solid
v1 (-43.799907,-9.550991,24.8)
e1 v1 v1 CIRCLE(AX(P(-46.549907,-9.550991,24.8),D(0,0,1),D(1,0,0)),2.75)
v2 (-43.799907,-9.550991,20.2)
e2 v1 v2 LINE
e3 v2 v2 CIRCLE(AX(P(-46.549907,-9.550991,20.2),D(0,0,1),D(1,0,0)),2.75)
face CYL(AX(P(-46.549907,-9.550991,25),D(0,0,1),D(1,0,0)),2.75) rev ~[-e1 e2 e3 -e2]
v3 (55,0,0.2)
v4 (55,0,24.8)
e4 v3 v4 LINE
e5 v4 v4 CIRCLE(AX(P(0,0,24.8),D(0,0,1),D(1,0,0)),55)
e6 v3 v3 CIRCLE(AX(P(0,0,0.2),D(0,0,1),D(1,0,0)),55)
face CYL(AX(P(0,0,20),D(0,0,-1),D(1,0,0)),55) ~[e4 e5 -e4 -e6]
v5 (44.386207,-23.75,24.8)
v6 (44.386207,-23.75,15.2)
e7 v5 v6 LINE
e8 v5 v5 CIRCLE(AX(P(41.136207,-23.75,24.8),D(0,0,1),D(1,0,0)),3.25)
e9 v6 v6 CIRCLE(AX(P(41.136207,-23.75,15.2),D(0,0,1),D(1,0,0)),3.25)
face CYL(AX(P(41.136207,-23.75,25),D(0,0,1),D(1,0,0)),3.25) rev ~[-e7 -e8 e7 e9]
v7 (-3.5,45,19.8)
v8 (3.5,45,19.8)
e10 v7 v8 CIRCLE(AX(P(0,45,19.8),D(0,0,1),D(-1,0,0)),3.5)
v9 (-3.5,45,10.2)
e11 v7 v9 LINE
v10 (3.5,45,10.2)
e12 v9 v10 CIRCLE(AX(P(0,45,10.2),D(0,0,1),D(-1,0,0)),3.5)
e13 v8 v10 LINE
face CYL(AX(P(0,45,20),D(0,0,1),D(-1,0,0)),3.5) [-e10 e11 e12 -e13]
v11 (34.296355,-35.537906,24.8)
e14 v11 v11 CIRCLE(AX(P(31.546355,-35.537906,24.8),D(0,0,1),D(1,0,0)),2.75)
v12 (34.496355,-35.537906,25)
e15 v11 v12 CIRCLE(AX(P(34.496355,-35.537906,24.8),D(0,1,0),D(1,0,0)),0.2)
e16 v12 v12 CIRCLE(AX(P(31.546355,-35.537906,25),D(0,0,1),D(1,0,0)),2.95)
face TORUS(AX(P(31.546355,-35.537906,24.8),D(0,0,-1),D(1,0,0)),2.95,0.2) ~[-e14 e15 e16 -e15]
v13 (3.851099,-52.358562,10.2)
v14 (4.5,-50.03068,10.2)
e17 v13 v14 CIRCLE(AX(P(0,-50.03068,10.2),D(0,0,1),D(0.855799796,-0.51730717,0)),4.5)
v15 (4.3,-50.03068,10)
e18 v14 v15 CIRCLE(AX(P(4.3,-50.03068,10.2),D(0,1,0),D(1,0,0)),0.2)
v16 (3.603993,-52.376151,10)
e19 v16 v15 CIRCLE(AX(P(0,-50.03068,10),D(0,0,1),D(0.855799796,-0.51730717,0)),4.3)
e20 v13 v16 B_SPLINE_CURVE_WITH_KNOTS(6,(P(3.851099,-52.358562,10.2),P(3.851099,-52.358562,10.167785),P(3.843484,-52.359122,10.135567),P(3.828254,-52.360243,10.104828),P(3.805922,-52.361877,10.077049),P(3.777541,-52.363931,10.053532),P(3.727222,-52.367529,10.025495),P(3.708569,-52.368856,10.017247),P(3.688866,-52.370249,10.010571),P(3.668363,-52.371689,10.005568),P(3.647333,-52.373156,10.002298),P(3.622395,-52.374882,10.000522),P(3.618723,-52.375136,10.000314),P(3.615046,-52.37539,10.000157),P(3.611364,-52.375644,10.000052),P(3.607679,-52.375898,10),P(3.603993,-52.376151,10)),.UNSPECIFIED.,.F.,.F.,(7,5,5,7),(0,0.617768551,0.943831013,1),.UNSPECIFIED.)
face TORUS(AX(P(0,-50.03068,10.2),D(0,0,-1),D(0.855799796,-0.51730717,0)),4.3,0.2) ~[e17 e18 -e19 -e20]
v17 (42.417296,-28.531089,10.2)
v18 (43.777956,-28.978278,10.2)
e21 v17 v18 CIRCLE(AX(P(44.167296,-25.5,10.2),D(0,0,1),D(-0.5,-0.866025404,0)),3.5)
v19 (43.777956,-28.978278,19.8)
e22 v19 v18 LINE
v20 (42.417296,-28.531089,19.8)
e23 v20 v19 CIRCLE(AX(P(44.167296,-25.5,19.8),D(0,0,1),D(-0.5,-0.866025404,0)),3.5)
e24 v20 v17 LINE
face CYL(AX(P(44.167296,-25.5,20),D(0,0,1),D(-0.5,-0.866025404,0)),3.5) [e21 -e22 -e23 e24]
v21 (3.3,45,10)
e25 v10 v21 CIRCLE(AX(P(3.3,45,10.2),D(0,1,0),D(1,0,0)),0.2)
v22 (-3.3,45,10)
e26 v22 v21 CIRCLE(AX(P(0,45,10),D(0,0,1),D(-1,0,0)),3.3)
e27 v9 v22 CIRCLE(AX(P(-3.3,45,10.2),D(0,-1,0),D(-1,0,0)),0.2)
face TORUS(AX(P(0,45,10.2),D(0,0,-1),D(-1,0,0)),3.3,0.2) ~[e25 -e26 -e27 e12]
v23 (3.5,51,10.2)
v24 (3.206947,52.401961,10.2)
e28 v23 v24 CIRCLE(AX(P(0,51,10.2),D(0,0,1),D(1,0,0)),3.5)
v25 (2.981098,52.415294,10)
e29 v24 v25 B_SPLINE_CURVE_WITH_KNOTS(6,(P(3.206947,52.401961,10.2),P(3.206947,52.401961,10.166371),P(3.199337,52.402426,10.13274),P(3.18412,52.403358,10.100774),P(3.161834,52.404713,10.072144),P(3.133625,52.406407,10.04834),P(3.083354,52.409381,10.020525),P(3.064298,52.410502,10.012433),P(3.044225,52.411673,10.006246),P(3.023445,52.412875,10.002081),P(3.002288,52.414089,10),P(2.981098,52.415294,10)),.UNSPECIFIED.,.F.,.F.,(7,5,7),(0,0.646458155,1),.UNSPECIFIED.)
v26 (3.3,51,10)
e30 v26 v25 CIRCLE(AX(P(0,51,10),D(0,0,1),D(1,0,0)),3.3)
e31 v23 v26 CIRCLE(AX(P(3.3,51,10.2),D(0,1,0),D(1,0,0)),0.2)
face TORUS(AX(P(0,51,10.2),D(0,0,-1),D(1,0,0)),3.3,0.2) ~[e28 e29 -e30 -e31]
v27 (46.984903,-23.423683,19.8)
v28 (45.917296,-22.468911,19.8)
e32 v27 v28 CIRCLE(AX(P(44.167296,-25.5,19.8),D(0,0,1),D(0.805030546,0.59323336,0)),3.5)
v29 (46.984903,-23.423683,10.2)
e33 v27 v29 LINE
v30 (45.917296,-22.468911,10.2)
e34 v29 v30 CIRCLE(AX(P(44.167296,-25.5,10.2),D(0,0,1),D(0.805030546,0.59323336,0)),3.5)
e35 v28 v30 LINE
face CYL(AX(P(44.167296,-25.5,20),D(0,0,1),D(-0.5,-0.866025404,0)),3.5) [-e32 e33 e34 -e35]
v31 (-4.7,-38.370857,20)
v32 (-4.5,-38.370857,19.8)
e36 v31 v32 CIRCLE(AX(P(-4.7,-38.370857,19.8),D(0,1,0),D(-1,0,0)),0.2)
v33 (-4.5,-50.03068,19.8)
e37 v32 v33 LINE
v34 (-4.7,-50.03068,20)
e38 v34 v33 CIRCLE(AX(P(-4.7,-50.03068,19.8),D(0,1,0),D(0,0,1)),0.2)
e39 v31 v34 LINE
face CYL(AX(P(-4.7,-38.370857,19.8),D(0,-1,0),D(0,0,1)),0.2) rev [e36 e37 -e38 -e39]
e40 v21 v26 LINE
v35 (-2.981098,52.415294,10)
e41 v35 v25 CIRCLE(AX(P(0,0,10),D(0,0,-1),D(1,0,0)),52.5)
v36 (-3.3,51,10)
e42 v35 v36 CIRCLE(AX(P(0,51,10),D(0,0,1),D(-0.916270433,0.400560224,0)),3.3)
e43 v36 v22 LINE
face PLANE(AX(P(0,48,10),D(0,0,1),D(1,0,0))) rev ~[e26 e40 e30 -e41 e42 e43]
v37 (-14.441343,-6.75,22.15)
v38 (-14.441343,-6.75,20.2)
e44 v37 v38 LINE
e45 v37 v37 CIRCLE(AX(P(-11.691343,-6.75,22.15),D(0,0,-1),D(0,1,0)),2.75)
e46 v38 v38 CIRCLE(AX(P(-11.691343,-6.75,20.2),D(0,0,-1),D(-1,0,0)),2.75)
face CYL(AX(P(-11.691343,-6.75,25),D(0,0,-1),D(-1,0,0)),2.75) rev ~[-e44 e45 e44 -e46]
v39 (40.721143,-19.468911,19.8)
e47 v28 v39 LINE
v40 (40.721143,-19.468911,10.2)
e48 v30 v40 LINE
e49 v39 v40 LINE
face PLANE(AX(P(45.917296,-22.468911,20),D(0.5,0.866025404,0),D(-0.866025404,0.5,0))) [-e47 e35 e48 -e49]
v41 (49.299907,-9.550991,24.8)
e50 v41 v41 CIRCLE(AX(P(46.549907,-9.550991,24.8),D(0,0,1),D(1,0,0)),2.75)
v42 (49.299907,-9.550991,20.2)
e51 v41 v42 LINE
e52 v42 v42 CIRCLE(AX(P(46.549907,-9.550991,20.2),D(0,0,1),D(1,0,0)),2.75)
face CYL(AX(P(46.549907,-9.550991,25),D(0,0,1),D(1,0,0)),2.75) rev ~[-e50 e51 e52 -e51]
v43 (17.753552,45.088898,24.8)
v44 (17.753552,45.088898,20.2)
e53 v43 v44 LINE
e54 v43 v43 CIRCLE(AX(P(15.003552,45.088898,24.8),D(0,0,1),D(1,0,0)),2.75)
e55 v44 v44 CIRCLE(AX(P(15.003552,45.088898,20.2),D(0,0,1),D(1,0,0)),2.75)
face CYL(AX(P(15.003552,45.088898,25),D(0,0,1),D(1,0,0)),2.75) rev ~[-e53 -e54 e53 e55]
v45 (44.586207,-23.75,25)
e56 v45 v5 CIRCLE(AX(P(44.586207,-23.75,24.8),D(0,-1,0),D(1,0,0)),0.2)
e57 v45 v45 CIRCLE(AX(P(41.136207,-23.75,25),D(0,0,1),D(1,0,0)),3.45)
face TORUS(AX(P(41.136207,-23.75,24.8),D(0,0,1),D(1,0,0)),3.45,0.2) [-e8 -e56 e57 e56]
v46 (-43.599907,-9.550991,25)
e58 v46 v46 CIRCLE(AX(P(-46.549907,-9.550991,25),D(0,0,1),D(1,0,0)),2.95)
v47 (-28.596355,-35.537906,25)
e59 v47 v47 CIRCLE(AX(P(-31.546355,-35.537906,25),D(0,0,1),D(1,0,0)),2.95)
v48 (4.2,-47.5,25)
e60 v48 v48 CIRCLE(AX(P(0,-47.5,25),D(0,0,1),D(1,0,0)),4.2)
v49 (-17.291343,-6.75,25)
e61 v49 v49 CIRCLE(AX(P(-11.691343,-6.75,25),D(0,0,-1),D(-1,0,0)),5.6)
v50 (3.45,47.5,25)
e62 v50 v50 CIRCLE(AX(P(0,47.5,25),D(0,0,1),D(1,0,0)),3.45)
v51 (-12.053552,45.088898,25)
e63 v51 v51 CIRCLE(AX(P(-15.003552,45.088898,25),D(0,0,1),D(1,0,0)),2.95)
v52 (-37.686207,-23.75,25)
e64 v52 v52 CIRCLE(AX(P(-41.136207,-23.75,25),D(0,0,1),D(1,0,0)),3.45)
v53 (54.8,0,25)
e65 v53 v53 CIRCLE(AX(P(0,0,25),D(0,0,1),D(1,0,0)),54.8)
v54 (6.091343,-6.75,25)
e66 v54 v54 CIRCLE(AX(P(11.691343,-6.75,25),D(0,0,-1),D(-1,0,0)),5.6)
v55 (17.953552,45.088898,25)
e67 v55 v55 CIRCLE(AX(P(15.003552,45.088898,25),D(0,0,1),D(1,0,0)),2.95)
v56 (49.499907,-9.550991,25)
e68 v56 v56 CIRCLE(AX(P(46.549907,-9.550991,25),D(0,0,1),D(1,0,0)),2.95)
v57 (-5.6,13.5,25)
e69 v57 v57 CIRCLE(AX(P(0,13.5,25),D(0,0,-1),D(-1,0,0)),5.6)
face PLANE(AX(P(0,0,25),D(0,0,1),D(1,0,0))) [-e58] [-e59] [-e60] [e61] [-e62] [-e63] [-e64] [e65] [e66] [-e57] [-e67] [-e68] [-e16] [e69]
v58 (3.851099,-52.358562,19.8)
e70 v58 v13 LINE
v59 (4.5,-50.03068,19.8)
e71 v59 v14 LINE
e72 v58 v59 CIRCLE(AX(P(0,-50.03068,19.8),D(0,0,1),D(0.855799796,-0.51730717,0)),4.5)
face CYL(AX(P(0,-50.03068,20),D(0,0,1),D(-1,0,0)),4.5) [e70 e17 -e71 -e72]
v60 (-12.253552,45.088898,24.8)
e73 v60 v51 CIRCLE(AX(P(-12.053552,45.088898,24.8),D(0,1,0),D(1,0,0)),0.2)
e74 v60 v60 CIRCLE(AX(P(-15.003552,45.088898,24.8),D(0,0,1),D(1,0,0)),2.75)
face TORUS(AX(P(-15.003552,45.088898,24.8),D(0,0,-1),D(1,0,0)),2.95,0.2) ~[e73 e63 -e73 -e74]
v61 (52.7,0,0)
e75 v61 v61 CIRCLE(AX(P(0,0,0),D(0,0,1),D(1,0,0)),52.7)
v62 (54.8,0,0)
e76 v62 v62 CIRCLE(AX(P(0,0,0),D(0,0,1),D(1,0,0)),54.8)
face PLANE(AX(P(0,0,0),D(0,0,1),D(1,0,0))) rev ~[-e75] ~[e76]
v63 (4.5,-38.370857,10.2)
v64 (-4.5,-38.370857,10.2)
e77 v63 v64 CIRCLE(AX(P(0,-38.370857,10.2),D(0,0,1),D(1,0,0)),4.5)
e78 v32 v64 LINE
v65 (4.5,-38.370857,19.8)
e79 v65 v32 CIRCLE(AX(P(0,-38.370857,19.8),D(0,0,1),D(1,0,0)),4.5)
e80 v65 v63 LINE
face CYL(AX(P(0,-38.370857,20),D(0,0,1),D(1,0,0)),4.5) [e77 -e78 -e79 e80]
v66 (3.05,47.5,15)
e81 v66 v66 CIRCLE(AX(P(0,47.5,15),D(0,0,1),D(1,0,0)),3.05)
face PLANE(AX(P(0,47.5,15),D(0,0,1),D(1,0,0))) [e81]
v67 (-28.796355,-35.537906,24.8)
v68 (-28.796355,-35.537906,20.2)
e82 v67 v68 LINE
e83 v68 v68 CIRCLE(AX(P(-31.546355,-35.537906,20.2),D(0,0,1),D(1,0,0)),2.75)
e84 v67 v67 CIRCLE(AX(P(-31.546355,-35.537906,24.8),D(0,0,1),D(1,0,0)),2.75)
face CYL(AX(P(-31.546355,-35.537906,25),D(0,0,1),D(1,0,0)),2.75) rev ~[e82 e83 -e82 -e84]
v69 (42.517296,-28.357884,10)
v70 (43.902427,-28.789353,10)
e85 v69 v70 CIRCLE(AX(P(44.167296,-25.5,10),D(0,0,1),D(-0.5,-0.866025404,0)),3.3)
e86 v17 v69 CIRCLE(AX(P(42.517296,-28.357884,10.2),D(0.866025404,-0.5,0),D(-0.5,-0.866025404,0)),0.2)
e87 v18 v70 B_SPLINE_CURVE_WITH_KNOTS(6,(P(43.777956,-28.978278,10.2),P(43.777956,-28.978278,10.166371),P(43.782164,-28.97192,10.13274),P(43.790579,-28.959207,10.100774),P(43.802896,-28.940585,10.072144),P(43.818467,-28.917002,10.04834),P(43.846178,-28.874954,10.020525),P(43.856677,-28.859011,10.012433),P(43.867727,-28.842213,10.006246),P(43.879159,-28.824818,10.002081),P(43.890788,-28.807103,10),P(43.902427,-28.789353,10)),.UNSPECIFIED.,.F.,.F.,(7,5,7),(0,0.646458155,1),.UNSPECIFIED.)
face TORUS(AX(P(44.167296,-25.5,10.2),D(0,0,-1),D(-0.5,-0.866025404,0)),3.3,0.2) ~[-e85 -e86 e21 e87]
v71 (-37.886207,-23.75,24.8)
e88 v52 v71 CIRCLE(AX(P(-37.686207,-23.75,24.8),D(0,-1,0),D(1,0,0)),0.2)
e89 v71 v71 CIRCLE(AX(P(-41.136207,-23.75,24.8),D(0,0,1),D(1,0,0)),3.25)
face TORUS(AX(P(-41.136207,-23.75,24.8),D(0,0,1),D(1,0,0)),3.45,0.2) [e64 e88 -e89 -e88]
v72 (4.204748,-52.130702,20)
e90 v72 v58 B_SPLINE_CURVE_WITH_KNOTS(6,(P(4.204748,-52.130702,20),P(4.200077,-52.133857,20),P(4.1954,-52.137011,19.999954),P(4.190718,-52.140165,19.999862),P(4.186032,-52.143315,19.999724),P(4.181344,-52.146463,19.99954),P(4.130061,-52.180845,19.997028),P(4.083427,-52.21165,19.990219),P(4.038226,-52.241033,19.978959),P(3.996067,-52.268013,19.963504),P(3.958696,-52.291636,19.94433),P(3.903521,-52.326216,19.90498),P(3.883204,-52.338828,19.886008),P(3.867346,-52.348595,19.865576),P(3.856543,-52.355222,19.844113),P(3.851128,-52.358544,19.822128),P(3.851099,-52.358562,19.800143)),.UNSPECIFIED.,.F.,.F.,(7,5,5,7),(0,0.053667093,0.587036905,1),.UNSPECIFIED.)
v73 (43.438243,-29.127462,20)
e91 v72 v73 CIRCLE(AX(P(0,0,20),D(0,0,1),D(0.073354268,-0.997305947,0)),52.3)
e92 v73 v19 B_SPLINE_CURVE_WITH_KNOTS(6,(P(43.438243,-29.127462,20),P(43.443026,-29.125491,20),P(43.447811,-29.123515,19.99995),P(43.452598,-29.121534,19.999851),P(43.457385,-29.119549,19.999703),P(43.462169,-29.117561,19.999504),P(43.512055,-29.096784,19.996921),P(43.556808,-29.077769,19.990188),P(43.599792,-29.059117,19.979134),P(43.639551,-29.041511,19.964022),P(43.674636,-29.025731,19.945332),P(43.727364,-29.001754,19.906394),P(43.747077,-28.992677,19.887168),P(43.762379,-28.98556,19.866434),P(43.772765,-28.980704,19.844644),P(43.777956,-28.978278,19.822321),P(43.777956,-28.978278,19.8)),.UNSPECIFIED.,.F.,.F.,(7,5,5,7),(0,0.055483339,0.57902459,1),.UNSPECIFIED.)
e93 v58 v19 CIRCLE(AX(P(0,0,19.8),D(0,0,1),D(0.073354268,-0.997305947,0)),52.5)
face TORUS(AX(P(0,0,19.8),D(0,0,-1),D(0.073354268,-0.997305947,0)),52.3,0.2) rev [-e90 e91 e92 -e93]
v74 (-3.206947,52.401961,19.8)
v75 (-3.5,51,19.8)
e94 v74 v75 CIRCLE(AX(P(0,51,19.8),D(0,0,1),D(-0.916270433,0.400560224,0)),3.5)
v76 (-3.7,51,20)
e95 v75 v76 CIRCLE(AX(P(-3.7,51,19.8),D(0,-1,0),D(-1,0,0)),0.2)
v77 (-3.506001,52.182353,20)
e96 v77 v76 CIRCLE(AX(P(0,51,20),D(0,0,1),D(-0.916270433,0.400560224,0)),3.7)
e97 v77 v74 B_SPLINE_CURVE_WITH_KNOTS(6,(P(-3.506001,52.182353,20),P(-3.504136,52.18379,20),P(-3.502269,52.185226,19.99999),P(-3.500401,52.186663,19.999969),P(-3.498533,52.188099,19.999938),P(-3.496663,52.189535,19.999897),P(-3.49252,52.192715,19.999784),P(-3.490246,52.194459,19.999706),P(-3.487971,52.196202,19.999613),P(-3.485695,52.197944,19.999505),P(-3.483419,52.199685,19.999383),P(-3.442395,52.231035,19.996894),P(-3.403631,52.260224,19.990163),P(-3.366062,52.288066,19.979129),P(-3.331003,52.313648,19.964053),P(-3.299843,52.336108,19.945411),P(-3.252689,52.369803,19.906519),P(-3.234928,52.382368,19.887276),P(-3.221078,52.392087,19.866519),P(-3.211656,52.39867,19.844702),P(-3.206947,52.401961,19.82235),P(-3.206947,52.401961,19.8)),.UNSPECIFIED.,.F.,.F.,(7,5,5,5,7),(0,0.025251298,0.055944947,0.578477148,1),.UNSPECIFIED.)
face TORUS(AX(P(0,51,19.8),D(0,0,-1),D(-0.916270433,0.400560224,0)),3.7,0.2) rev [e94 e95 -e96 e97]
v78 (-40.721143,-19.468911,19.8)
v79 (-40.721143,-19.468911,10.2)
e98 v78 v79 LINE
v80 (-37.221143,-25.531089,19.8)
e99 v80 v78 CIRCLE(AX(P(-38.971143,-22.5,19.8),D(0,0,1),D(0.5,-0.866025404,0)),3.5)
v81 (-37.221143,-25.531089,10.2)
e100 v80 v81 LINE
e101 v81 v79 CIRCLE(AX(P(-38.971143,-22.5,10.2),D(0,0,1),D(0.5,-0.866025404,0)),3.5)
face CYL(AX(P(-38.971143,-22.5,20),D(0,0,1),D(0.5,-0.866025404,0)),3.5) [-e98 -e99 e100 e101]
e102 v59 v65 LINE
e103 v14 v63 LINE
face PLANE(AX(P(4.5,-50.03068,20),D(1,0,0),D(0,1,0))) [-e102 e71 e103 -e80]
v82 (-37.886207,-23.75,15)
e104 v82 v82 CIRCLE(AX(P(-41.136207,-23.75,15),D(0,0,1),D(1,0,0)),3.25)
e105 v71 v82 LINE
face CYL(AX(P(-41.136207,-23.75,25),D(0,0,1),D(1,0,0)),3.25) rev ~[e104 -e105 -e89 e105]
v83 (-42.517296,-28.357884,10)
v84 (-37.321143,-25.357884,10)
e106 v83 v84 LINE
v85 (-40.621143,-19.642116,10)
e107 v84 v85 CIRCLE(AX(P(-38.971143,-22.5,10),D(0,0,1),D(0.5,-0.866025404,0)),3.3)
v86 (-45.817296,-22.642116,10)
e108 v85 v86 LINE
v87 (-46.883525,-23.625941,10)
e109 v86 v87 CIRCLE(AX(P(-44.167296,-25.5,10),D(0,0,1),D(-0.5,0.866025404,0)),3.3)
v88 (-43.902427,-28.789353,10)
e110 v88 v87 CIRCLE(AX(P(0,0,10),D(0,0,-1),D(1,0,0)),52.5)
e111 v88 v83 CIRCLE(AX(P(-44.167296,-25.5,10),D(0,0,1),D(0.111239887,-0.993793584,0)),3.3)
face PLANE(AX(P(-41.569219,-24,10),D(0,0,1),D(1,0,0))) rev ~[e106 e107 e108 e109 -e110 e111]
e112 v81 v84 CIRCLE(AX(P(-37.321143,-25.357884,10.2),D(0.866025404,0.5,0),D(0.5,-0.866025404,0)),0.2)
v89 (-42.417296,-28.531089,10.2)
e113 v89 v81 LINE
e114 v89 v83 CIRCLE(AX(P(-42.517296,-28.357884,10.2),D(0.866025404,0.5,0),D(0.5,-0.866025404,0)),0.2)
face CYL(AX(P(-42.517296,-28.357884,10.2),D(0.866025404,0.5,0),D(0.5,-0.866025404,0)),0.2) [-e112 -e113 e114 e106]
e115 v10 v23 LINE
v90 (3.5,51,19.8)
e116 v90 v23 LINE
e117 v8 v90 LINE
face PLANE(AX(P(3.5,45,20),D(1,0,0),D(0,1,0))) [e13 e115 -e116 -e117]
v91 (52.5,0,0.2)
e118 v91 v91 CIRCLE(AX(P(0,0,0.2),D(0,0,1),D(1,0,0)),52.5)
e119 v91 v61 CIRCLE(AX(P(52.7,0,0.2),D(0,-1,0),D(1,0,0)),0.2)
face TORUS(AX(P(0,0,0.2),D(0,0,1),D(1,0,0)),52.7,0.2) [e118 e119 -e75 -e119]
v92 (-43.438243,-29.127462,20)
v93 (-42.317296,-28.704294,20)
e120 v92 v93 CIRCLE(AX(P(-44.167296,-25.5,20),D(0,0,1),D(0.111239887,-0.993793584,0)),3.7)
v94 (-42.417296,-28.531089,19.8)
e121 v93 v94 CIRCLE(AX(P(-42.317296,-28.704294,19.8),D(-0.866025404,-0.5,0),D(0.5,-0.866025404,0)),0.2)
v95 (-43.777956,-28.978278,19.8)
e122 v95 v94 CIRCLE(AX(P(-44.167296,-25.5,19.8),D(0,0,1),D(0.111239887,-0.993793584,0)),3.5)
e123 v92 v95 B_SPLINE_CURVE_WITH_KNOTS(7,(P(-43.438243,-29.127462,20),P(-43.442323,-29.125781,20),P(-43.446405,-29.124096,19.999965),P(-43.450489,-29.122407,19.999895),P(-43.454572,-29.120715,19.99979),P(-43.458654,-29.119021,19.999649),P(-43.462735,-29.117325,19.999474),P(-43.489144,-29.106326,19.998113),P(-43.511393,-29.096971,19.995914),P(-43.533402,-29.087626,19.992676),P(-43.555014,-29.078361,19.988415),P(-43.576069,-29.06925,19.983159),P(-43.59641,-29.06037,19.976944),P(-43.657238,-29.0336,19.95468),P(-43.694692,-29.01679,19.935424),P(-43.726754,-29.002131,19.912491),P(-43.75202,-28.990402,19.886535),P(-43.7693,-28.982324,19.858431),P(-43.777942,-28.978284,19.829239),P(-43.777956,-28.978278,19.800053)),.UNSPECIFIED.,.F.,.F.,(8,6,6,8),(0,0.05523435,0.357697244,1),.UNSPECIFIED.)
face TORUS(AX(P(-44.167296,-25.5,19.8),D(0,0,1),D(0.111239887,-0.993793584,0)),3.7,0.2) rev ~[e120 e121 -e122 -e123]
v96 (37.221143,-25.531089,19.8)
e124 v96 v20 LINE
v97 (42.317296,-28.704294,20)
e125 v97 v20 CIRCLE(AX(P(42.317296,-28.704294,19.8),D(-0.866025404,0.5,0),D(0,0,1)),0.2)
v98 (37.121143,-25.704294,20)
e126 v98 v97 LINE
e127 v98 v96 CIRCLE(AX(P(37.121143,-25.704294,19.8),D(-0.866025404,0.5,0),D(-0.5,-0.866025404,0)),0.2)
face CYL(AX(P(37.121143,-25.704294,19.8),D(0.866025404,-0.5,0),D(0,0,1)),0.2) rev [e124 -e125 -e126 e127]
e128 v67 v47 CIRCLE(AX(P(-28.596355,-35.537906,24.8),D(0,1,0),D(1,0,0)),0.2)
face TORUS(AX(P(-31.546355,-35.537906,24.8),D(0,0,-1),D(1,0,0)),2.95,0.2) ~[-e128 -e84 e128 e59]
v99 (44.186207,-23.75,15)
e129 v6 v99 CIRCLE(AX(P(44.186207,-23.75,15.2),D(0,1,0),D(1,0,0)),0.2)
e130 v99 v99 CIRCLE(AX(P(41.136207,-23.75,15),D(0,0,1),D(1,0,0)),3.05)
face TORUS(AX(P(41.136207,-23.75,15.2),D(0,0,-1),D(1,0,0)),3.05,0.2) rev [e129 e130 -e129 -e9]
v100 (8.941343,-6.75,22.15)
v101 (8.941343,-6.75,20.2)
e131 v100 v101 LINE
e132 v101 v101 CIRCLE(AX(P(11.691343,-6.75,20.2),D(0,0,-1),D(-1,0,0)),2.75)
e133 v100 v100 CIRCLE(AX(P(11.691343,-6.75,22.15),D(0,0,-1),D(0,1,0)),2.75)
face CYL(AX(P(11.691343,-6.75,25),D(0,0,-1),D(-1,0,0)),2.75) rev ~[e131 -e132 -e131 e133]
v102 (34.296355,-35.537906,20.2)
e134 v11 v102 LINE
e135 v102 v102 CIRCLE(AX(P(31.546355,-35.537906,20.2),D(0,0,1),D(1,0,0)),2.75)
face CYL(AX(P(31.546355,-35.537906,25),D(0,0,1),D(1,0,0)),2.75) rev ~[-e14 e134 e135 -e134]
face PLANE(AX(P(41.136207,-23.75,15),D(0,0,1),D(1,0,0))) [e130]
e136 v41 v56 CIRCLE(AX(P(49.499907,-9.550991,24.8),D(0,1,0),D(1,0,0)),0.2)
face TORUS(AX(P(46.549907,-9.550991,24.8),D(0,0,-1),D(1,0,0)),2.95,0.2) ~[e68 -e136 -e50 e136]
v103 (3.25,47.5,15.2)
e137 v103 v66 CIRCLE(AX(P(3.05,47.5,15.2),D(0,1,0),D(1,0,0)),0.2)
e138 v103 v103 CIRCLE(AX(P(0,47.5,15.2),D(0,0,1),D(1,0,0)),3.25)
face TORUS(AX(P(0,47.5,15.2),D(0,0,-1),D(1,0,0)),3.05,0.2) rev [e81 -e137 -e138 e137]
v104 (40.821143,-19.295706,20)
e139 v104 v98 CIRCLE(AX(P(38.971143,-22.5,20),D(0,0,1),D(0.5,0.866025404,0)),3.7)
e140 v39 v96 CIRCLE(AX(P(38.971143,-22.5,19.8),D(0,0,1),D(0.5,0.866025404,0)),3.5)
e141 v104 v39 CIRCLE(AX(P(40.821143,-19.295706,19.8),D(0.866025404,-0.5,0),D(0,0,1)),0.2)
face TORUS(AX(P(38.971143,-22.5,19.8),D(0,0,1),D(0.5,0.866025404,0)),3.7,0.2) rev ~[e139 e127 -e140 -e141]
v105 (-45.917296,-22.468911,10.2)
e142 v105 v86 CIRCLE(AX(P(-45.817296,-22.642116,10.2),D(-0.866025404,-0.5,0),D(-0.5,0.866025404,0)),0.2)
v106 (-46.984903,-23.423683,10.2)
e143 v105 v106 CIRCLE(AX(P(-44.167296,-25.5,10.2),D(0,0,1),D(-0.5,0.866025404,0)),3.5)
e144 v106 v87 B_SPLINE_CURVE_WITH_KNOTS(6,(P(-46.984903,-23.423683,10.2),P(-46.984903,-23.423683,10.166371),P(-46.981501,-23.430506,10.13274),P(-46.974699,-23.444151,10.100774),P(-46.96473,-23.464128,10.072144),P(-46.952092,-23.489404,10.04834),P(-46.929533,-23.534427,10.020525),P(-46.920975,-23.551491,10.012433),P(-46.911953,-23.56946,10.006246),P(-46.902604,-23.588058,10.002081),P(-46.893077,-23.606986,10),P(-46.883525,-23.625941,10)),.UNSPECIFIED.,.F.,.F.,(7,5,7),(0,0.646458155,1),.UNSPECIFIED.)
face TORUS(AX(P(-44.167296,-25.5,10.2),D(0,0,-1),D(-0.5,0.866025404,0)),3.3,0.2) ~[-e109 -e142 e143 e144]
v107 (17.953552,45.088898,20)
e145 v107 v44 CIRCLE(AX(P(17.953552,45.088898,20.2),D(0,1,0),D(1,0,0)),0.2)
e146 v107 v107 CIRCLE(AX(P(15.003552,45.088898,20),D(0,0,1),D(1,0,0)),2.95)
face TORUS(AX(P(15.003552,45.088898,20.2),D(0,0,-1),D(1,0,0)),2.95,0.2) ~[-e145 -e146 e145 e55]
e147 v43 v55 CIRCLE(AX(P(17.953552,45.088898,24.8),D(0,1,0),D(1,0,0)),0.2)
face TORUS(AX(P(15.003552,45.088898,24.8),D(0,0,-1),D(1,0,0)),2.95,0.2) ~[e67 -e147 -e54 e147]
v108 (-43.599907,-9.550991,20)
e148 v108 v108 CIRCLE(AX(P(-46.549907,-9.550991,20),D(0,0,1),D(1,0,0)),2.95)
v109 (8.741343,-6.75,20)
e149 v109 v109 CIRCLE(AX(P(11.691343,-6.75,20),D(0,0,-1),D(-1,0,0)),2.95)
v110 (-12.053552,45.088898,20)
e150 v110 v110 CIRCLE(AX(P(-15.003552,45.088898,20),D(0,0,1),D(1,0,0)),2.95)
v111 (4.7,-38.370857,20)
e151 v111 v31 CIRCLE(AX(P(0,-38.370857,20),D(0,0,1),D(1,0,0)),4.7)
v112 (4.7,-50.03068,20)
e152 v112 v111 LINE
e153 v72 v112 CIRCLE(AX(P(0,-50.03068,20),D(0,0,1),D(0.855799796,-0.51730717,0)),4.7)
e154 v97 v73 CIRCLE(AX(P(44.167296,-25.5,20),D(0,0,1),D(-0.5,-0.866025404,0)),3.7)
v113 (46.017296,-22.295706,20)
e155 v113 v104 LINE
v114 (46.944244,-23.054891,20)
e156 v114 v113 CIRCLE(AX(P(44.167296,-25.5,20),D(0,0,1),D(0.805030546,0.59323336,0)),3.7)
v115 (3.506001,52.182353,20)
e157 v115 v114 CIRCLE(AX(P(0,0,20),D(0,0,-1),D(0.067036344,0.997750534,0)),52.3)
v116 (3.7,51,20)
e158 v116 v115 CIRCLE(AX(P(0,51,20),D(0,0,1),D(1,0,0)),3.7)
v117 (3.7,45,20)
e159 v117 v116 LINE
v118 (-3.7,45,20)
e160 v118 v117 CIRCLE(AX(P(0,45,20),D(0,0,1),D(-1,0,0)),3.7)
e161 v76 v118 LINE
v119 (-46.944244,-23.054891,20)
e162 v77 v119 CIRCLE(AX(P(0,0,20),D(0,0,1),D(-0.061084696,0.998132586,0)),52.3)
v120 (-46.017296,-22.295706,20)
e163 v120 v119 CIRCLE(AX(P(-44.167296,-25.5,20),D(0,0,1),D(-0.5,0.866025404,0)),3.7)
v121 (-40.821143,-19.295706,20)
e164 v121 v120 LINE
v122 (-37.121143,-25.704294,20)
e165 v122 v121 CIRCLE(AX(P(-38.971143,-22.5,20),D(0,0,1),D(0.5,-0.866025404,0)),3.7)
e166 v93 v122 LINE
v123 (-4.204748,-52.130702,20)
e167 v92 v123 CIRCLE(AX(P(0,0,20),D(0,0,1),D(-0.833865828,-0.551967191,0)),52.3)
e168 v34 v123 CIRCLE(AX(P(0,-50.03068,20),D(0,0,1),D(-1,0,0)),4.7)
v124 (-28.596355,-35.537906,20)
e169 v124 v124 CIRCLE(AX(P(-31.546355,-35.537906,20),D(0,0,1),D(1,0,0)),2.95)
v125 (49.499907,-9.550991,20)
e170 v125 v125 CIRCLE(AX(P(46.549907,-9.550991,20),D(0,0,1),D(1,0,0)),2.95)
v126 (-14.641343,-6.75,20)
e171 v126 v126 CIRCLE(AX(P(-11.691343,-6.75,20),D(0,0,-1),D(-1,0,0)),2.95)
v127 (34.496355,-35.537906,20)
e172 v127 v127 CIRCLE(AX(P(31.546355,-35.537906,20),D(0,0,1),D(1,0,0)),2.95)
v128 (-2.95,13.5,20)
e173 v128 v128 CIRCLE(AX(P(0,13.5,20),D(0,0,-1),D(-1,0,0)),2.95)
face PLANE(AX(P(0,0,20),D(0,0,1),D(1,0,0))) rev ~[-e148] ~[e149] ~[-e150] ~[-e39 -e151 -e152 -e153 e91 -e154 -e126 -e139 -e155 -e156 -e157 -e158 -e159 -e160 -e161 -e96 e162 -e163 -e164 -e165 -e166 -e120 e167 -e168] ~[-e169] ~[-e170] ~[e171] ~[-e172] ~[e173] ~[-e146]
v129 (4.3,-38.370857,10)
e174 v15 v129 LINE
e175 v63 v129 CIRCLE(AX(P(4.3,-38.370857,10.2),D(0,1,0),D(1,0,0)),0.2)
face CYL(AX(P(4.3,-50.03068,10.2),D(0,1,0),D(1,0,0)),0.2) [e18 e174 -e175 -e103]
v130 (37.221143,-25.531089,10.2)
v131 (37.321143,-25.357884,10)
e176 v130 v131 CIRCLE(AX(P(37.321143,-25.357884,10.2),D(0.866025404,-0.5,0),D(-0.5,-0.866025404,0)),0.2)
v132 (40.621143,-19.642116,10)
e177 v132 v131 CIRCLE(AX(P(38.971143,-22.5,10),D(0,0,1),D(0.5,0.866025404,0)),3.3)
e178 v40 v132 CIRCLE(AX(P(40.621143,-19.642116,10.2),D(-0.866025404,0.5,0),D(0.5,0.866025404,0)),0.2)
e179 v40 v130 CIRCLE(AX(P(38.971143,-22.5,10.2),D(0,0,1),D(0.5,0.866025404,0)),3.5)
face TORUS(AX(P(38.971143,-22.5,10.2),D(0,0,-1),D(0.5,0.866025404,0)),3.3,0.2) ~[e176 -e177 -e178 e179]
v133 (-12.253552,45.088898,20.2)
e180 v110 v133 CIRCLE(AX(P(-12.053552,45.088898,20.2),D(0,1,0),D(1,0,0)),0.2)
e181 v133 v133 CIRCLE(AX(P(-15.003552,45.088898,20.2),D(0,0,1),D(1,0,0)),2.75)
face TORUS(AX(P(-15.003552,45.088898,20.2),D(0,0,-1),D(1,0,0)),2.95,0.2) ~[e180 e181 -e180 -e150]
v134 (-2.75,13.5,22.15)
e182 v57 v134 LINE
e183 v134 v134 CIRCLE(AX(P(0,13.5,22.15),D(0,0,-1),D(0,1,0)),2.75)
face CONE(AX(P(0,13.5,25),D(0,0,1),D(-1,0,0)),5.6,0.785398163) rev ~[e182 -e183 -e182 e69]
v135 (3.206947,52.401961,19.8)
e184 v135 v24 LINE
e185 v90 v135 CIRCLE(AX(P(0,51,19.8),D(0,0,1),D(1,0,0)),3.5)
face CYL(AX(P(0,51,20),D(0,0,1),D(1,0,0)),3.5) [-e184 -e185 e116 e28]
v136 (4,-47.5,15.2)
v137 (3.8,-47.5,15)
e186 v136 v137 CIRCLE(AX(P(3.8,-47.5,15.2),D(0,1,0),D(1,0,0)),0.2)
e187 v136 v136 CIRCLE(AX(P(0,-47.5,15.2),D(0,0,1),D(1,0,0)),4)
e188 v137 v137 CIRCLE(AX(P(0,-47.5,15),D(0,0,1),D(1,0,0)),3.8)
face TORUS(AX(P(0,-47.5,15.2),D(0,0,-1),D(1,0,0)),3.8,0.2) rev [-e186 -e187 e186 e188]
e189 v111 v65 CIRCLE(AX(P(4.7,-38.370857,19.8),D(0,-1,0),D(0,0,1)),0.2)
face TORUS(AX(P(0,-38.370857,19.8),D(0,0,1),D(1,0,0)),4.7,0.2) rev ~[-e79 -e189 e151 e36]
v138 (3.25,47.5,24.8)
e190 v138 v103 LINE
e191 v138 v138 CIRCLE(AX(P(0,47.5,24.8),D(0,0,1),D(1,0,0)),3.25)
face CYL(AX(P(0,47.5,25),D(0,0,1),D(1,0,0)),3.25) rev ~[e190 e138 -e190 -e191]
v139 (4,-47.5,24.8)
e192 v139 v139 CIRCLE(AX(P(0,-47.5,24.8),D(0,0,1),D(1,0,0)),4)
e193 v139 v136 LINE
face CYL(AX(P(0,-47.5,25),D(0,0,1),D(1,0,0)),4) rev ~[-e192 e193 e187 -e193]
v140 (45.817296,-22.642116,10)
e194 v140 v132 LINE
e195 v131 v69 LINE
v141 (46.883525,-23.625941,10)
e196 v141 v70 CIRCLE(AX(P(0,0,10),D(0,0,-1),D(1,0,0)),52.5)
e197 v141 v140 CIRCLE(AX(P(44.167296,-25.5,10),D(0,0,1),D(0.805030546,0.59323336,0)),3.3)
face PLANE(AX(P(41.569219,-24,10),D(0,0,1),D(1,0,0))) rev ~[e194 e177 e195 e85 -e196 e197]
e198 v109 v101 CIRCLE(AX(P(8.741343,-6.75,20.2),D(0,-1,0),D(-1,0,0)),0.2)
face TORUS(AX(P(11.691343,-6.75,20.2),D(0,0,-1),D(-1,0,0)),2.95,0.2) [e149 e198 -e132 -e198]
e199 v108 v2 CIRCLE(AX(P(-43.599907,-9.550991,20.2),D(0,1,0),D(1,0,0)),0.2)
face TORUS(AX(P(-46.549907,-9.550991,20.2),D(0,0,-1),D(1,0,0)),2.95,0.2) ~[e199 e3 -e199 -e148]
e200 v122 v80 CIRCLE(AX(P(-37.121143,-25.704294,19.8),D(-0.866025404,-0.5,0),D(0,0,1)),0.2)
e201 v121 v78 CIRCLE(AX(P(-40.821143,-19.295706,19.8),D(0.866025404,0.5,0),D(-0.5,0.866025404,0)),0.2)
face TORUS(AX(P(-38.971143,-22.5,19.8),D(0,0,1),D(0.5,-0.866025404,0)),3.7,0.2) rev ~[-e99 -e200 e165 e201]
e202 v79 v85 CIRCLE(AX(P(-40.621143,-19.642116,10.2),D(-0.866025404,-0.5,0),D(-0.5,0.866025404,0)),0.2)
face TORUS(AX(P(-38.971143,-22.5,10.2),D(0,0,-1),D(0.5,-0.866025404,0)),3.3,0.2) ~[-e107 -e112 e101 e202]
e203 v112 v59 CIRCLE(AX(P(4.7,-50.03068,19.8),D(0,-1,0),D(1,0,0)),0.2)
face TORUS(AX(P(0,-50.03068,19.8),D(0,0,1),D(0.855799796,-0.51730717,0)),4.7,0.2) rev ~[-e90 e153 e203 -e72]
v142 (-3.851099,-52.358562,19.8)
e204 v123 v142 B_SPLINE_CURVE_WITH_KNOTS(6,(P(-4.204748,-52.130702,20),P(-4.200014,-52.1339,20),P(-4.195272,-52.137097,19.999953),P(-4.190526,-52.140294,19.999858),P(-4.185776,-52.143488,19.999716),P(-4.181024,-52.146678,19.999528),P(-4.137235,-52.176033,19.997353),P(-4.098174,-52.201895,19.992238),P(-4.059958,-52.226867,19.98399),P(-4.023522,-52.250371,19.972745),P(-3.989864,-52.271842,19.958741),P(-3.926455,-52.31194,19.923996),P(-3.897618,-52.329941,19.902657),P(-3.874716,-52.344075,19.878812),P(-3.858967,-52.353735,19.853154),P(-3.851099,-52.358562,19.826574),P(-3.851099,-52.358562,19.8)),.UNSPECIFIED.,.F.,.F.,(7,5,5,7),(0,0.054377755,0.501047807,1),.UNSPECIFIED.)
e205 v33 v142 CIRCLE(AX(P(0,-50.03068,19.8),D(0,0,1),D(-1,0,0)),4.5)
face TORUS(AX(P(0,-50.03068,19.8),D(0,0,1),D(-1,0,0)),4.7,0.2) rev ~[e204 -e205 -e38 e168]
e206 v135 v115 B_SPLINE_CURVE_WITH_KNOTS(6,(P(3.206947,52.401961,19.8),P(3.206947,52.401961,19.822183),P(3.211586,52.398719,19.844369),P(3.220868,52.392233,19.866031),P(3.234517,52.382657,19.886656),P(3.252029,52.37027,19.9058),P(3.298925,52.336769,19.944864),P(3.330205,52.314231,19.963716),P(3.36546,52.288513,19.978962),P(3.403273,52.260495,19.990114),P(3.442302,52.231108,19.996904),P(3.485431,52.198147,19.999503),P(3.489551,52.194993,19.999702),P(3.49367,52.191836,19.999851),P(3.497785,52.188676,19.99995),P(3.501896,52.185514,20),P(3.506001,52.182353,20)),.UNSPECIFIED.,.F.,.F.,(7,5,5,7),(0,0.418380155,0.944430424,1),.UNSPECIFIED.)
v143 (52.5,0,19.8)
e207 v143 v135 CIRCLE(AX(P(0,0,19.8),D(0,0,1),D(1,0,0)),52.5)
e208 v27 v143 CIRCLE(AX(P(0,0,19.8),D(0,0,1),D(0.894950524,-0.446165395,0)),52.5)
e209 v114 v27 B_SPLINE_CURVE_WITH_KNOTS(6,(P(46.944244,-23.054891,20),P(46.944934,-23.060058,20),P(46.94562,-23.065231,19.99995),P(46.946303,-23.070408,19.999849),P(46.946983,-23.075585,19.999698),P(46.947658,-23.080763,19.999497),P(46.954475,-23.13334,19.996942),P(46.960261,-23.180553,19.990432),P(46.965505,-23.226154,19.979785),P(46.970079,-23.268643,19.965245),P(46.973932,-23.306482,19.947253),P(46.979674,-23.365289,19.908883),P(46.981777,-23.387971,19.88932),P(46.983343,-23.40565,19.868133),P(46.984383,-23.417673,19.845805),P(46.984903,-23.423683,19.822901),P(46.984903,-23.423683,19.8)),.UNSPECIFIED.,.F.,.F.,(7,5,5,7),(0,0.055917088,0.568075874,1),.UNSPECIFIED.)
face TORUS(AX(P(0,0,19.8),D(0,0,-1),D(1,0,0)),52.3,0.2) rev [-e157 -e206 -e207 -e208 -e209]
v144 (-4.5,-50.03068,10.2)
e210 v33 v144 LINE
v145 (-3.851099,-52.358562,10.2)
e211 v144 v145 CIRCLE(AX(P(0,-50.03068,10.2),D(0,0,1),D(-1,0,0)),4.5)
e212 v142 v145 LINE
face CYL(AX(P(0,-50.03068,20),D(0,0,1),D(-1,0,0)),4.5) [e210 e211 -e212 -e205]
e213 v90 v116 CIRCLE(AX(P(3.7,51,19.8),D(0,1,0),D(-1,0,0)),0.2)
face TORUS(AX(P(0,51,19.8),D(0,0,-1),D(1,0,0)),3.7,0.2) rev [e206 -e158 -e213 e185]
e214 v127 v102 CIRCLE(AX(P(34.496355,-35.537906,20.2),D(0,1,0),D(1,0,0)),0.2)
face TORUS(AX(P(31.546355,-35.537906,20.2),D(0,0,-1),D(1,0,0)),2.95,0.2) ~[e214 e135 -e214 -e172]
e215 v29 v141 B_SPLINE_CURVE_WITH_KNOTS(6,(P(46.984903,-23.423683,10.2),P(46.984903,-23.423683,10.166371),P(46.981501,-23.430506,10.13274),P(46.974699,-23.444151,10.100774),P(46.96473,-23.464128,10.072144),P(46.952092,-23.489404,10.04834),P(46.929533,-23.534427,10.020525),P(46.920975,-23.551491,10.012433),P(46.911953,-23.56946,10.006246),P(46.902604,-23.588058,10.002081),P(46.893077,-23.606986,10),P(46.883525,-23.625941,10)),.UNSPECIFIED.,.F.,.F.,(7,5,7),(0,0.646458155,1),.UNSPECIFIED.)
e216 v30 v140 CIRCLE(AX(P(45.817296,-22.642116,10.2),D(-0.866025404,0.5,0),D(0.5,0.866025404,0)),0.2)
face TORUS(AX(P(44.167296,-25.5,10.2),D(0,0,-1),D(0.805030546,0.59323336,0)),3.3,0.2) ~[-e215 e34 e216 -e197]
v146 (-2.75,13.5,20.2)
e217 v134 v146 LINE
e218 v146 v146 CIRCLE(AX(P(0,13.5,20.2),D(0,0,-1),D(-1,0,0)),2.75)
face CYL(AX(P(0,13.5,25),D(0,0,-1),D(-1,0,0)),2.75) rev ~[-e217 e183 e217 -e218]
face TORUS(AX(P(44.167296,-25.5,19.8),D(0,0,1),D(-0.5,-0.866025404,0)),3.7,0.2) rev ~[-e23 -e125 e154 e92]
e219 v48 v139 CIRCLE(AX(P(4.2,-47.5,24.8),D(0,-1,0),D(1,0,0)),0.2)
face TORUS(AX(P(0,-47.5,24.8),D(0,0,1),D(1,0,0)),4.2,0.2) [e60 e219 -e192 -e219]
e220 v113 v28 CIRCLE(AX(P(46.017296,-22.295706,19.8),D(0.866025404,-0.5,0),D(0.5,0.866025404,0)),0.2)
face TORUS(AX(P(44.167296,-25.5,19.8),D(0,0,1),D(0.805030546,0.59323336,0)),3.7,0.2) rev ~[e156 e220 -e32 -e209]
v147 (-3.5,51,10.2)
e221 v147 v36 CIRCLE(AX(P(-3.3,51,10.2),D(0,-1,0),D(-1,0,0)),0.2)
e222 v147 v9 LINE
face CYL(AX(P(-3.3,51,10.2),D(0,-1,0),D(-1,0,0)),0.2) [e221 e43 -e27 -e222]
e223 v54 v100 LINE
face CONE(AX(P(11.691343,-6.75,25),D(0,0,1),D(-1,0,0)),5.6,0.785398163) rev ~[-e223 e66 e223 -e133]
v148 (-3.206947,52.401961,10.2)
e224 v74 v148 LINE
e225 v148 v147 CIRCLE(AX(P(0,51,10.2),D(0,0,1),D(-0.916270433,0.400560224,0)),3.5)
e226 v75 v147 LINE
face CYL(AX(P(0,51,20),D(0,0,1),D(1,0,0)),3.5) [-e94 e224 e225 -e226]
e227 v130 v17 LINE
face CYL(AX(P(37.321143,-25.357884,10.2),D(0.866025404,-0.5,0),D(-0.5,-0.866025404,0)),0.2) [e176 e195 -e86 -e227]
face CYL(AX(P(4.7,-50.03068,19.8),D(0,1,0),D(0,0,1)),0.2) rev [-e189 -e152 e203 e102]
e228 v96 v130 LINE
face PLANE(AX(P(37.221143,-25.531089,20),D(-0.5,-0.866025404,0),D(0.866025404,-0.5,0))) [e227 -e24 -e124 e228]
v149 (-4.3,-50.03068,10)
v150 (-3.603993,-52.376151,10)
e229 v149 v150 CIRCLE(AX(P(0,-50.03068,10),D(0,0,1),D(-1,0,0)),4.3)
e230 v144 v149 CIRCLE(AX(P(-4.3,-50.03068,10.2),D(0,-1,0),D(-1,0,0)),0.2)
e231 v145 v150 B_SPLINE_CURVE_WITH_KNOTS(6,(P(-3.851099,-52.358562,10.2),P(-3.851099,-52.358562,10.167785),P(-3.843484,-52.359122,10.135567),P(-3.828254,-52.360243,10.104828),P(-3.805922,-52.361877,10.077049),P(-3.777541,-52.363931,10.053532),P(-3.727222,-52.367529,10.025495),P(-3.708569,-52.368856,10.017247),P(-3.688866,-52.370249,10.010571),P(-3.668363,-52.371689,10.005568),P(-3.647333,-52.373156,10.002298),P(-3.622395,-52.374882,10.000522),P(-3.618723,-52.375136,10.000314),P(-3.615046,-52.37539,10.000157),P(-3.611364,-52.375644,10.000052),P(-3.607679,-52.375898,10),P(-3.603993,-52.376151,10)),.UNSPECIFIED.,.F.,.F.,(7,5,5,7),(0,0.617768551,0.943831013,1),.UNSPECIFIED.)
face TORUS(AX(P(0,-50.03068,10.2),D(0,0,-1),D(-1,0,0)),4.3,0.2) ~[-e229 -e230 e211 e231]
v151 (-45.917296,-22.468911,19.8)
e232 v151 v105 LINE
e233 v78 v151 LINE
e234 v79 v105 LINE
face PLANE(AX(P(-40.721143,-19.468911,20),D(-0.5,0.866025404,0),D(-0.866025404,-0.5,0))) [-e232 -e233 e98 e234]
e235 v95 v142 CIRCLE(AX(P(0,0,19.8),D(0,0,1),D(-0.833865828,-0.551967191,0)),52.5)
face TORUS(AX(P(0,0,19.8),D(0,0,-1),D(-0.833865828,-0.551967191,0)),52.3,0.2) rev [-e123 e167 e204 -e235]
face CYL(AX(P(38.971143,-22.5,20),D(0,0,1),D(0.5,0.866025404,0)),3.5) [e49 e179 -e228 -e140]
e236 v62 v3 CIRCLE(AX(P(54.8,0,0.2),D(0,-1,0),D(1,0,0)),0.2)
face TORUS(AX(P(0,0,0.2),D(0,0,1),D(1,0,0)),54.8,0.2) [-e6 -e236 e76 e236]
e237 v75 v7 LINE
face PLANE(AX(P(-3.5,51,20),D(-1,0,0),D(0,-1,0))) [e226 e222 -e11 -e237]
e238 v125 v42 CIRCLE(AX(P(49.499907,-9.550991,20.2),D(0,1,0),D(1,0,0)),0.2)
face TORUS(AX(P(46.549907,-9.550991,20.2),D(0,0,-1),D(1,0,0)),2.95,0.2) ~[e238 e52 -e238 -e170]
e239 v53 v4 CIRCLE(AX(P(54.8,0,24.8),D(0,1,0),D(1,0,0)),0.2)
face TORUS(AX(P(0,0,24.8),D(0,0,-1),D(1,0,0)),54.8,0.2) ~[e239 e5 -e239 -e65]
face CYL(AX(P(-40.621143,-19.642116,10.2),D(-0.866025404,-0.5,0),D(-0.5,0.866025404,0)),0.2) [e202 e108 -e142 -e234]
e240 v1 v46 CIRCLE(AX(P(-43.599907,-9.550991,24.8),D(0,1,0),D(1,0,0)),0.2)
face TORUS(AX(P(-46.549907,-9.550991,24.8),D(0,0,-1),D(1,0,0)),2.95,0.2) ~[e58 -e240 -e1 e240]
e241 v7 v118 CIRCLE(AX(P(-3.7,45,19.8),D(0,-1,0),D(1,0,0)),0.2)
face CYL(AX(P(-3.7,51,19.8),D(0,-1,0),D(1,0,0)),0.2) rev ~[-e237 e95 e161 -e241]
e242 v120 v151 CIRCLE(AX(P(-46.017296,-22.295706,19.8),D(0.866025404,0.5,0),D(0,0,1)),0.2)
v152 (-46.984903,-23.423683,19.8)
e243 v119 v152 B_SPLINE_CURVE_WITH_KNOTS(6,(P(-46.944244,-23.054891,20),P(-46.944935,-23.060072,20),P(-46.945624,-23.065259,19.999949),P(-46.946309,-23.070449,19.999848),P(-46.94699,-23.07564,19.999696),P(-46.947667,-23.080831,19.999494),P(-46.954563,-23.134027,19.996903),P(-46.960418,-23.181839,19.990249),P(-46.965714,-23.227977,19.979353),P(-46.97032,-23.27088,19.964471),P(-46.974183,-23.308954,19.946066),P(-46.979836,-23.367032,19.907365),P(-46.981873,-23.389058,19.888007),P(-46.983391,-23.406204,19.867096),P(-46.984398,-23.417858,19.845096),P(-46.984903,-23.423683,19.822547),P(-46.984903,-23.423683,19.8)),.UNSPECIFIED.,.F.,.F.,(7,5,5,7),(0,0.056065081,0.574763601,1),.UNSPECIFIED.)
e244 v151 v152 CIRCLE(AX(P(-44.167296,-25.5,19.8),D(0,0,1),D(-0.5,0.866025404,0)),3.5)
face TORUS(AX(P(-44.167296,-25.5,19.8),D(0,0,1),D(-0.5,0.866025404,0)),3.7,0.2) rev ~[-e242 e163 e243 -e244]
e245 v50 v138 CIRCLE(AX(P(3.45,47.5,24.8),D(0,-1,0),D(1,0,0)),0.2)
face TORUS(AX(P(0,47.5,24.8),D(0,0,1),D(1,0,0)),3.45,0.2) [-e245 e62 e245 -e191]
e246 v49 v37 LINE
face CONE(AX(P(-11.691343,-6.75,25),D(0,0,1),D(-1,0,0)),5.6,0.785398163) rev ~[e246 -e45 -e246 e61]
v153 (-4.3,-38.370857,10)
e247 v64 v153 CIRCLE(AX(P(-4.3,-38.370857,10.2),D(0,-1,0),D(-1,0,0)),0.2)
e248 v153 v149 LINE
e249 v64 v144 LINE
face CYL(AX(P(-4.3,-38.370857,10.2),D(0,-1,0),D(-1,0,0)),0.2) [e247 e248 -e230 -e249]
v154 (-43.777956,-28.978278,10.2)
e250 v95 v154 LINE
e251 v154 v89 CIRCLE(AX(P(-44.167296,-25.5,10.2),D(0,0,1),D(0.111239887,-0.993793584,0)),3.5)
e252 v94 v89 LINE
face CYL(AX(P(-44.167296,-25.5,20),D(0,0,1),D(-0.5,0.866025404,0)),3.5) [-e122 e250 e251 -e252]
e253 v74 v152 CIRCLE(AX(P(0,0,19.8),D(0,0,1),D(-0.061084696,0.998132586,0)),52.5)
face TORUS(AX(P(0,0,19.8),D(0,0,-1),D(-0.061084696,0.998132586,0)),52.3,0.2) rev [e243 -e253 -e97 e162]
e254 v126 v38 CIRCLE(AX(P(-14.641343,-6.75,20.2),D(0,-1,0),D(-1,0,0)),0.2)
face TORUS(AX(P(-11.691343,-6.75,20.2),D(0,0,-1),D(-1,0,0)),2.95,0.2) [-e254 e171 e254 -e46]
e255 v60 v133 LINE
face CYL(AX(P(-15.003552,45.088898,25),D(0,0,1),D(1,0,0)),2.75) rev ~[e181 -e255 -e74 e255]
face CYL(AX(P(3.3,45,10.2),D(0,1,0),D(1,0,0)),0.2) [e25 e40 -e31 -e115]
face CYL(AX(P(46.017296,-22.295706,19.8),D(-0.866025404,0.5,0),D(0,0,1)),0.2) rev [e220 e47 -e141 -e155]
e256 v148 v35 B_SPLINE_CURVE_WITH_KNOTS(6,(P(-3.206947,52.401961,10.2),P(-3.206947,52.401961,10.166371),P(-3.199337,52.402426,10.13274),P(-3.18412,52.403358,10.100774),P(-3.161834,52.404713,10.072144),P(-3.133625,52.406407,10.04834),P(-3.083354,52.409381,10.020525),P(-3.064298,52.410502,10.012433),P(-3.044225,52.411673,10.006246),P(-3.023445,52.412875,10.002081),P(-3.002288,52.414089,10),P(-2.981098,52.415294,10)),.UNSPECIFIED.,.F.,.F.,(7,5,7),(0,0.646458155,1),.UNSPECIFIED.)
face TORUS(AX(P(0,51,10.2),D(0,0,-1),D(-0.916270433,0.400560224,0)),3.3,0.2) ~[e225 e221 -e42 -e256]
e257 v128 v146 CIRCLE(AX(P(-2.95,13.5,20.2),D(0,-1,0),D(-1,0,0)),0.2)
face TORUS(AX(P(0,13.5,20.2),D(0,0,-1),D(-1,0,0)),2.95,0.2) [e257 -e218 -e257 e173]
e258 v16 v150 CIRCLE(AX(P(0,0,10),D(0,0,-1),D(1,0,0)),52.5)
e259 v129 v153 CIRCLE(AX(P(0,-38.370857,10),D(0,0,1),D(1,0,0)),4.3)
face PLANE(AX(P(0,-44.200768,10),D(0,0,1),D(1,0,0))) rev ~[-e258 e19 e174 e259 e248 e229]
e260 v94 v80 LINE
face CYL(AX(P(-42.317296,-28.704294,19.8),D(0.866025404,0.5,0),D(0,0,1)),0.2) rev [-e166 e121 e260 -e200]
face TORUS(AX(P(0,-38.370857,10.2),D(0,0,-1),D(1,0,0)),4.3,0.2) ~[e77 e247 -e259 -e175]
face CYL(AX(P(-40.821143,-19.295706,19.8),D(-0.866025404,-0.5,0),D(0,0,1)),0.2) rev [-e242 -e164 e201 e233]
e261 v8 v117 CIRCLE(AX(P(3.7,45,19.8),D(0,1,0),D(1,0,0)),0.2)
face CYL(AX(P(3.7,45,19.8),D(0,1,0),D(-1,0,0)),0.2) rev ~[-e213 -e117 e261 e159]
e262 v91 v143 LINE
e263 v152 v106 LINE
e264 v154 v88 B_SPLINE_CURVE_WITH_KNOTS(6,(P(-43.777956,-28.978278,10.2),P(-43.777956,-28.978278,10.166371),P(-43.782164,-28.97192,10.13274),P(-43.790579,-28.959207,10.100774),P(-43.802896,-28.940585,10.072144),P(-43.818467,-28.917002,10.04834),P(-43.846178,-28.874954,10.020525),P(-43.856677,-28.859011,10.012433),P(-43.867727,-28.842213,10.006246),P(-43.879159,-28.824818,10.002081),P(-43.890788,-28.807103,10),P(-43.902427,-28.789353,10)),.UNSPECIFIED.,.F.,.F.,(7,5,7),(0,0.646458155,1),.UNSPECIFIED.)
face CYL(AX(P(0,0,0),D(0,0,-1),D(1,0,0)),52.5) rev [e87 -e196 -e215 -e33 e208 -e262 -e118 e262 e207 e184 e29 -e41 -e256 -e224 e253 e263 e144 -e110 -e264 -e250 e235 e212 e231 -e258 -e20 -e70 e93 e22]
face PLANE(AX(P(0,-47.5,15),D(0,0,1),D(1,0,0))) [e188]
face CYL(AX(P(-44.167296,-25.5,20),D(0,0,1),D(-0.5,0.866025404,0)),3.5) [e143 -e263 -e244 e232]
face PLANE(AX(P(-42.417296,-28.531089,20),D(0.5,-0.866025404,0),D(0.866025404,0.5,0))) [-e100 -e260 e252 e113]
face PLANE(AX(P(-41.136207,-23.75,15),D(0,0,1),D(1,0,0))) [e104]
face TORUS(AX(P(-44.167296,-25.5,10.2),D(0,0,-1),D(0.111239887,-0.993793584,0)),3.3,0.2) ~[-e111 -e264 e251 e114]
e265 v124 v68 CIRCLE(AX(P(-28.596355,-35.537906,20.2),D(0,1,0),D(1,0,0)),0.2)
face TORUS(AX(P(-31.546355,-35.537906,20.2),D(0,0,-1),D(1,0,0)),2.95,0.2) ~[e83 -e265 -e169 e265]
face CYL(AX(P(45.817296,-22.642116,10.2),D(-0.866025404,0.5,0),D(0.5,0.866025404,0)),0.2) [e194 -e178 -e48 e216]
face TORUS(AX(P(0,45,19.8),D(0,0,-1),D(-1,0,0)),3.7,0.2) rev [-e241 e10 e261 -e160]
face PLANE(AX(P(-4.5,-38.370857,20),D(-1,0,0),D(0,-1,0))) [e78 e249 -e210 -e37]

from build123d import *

# Parameters (mm, degrees)
CROQUIS1_R                                           = 55
CROQUIS1_R_2                                         = 52.5
SALIENTE_EXTRUIR1_DEPTH                              = 20
CROQUIS2_R                                           = 55
SALIENTE_EXTRUIR2_DEPTH                              = 5
REFRENTADO_PARA_TORNILLO_TAP_N_CON_CABEZ_D           = 5.5
REFRENTADO_PARA_TORNILLO_TAP_N_CON_CABEZ_CSINK_D     = 11.2
REFRENTADO_PARA_TORNILLO_TAP_N_CON_CABEZ_CSINK_ANGLE = 90
SALIENTE_EXTRUIR8_DEPTH                              = 10
CROQUIS12_R                                          = 3.25
CROQUIS12_R_2                                        = 4
CORTAR_EXTRUIR4_DEPTH                                = 10
CROQUIS16_R                                          = 2.75
CORTAR_EXTRUIR7_DEPTH                                = 5
REDONDEO1_R                                          = 0.2


with BuildPart() as part:
    # Croquis1 → Saliente-Extruir1 (new body)
    with BuildSketch(Plane.XY):
        Circle(CROQUIS1_R)
        Circle(CROQUIS1_R_2, mode=Mode.SUBTRACT)
    extrude(amount=SALIENTE_EXTRUIR1_DEPTH)

    # Croquis2 → Saliente-Extruir2 (add)
    with BuildSketch(Plane.XY.offset(20)):
        Circle(CROQUIS2_R)
    extrude(amount=SALIENTE_EXTRUIR2_DEPTH)

    # Refrentado para tornillo tapón con cabeza plana de clavija de M51 (through all)
    with Locations(Plane.XY.offset(25)):
        with Locations((0, 13.5), (-11.691342951, -6.75), (11.691342951, -6.75)):
            CounterSinkHole(REFRENTADO_PARA_TORNILLO_TAP_N_CON_CABEZ_D / 2, REFRENTADO_PARA_TORNILLO_TAP_N_CON_CABEZ_CSINK_D / 2, counter_sink_angle=REFRENTADO_PARA_TORNILLO_TAP_N_CON_CABEZ_CSINK_ANGLE)

    # Croquis10 → Saliente-Extruir8 (add)
    with BuildSketch(Plane(origin=(0, 0, 20), x_dir=(-1, 0, 0), z_dir=(0, 0, -1))):
        with BuildLine():
            Line((-3.5, 45), (-3.5, 51))
            ThreePointArc((-3.5, 51), (0, 54.5), (3.5, 51))
            Line((3.5, 51), (3.5, 45))
            ThreePointArc((3.5, 45), (0, 41.5), (-3.5, 45))
        make_face()
        with BuildLine():
            Line((40.72114317, -19.468911087), (45.917295593, -22.468911087))
            ThreePointArc((45.917295593, -22.468911087), (47.198384506, -27.25), (42.417295593, -28.531088913))
            Line((42.417295593, -28.531088913), (37.22114317, -25.531088913))
            ThreePointArc((37.22114317, -25.531088913), (35.940054257, -20.75), (40.72114317, -19.468911087))
        make_face()
        with BuildLine():
            Line((-37.22114317, -25.531088913), (-42.417295593, -28.531088913))
            ThreePointArc((-42.417295593, -28.531088913), (-47.198384506, -27.25), (-45.917295593, -22.468911087))
            Line((-45.917295593, -22.468911087), (-40.72114317, -19.468911087))
            ThreePointArc((-40.72114317, -19.468911087), (-35.940054257, -20.75), (-37.22114317, -25.531088913))
        make_face()
        with BuildLine():
            Line((-4.5, -50.030679936), (-4.5, -38.370856831))
            ThreePointArc((-4.5, -38.370856831), (0, -33.870856831), (4.5, -38.370856831))
            Line((4.5, -38.370856831), (4.5, -50.030679936))
            ThreePointArc((4.5, -50.030679936), (0, -54.530679936), (-4.5, -50.030679936))
        make_face()
    extrude(amount=SALIENTE_EXTRUIR8_DEPTH)

    # Croquis12 → Cortar-Extruir4 (cut)
    with BuildSketch(Plane.XY.offset(25)):
        with Locations((0, 47.5)):
            Circle(CROQUIS12_R)
        with Locations((41.13620668, -23.75)):
            Circle(CROQUIS12_R)
        with Locations((-41.13620668, -23.75)):
            Circle(CROQUIS12_R)
        with Locations((0, -47.5)):
            Circle(CROQUIS12_R_2)
    extrude(amount=-CORTAR_EXTRUIR4_DEPTH, mode=Mode.SUBTRACT)

    # Croquis16 → Cortar-Extruir7 (cut)
    with BuildSketch(Plane.XY.offset(25)):
        with Locations((-15.003552118, 45.088897544)):
            Circle(CROQUIS16_R)
        with Locations((15.003552118, 45.088897544)):
            Circle(CROQUIS16_R)
        with Locations((46.549906761, -9.55099149)):
            Circle(CROQUIS16_R)
        with Locations((31.546354642, -35.537906053)):
            Circle(CROQUIS16_R)
        with Locations((-31.546354642, -35.537906053)):
            Circle(CROQUIS16_R)
        with Locations((-46.549906761, -9.55099149)):
            Circle(CROQUIS16_R)
    extrude(amount=-CORTAR_EXTRUIR7_DEPTH, mode=Mode.SUBTRACT)

    # Redondeo1
    redondeo1_edges = [part.edges().sort_by_distance(p)[0] for p in [
        (-44.38620668, -23.75, 25),
        (37.88620668, -23.75, 15),
        (37.88620668, -23.75, 25),
        (-3.25, 47.5, 15),
        (-3.25, 47.5, 25),
        (-4, -47.5, 15),
        (-4, -47.5, 25),
        (-17.753552118, 45.088897544, 20),
        (-17.753552118, 45.088897544, 25),
        (12.253552118, 45.088897544, 20),
        (12.253552118, 45.088897544, 25),
        (43.799906761, -9.55099149, 20),
        (43.799906761, -9.55099149, 25),
        (28.796354642, -35.537906053, 20),
        (28.796354642, -35.537906053, 25),
        (-34.296354642, -35.537906053, 20),
        (-34.296354642, -35.537906053, 25),
        (-49.299906761, -9.55099149, 20),
        (-49.299906761, -9.55099149, 25),
        (-55, 0, 0),
        (14.441342951, -6.75, 20),
        (-8.941342951, -6.75, 20),
        (2.75, 13.5, 20),
        (-45.466333699, 26.25, 20),
        (3.425953357, 51.716130991, 20),
        (0, 41.5, 20),
        (-3.5, 48, 20),
        (-3.425953357, 51.716130991, 20),
        (3.5, 48, 10),
        (-3.425953357, 51.716130991, 10),
        (3.425953357, 51.716130991, 10),
        (0, 41.5, 10),
        (-3.5, 48, 10),
        (3.5, 48, 20),
        (-52.5, 0, 0),
        (38.240127433, 35.9714144, 20),
        (43.074506545, -28.825028135, 20),
        (35.940054257, -20.75, 20),
        (43.319219382, -20.968911087, 20),
        (46.500459902, -22.891102856, 20),
        (39.819219382, -27.031088913, 10),
        (46.500459902, -22.891102856, 10),
        (43.074506545, -28.825028135, 10),
        (35.940054257, -20.75, 10),
        (43.319219382, -20.968911087, 10),
        (39.819219382, -27.031088913, 20),
        (-26.529062355, -45.304071015, 20),
        (-46.500459902, -22.891102856, 20),
        (-35.940054257, -20.75, 20),
        (-39.819219382, -27.031088913, 20),
        (-43.074506545, -28.825028135, 20),
        (-43.319219382, -20.968911087, 10),
        (-43.074506545, -28.825028135, 10),
        (-46.500459902, -22.891102856, 10),
        (-35.940054257, -20.75, 10),
        (-39.819219382, -27.031088913, 10),
        (-43.319219382, -20.968911087, 20),
        (26.529062355, -45.304071015, 20),
        (-4.334740239, -51.238995731, 20),
        (4.5, -44.200768383, 20),
        (4.334740239, -51.238995731, 20),
        (-4.5, -44.200768383, 20),
        (0, -33.870856831, 20),
        (4.5, -44.200768383, 10),
        (4.334740239, -51.238995731, 10),
        (-4.334740239, -51.238995731, 10),
        (-4.5, -44.200768383, 10),
        (0, -33.870856831, 10),
        (-55, 0, 25),
    ]]
    fillet(redondeo1_edges, radius=REDONDEO1_R)


solid = part.part
